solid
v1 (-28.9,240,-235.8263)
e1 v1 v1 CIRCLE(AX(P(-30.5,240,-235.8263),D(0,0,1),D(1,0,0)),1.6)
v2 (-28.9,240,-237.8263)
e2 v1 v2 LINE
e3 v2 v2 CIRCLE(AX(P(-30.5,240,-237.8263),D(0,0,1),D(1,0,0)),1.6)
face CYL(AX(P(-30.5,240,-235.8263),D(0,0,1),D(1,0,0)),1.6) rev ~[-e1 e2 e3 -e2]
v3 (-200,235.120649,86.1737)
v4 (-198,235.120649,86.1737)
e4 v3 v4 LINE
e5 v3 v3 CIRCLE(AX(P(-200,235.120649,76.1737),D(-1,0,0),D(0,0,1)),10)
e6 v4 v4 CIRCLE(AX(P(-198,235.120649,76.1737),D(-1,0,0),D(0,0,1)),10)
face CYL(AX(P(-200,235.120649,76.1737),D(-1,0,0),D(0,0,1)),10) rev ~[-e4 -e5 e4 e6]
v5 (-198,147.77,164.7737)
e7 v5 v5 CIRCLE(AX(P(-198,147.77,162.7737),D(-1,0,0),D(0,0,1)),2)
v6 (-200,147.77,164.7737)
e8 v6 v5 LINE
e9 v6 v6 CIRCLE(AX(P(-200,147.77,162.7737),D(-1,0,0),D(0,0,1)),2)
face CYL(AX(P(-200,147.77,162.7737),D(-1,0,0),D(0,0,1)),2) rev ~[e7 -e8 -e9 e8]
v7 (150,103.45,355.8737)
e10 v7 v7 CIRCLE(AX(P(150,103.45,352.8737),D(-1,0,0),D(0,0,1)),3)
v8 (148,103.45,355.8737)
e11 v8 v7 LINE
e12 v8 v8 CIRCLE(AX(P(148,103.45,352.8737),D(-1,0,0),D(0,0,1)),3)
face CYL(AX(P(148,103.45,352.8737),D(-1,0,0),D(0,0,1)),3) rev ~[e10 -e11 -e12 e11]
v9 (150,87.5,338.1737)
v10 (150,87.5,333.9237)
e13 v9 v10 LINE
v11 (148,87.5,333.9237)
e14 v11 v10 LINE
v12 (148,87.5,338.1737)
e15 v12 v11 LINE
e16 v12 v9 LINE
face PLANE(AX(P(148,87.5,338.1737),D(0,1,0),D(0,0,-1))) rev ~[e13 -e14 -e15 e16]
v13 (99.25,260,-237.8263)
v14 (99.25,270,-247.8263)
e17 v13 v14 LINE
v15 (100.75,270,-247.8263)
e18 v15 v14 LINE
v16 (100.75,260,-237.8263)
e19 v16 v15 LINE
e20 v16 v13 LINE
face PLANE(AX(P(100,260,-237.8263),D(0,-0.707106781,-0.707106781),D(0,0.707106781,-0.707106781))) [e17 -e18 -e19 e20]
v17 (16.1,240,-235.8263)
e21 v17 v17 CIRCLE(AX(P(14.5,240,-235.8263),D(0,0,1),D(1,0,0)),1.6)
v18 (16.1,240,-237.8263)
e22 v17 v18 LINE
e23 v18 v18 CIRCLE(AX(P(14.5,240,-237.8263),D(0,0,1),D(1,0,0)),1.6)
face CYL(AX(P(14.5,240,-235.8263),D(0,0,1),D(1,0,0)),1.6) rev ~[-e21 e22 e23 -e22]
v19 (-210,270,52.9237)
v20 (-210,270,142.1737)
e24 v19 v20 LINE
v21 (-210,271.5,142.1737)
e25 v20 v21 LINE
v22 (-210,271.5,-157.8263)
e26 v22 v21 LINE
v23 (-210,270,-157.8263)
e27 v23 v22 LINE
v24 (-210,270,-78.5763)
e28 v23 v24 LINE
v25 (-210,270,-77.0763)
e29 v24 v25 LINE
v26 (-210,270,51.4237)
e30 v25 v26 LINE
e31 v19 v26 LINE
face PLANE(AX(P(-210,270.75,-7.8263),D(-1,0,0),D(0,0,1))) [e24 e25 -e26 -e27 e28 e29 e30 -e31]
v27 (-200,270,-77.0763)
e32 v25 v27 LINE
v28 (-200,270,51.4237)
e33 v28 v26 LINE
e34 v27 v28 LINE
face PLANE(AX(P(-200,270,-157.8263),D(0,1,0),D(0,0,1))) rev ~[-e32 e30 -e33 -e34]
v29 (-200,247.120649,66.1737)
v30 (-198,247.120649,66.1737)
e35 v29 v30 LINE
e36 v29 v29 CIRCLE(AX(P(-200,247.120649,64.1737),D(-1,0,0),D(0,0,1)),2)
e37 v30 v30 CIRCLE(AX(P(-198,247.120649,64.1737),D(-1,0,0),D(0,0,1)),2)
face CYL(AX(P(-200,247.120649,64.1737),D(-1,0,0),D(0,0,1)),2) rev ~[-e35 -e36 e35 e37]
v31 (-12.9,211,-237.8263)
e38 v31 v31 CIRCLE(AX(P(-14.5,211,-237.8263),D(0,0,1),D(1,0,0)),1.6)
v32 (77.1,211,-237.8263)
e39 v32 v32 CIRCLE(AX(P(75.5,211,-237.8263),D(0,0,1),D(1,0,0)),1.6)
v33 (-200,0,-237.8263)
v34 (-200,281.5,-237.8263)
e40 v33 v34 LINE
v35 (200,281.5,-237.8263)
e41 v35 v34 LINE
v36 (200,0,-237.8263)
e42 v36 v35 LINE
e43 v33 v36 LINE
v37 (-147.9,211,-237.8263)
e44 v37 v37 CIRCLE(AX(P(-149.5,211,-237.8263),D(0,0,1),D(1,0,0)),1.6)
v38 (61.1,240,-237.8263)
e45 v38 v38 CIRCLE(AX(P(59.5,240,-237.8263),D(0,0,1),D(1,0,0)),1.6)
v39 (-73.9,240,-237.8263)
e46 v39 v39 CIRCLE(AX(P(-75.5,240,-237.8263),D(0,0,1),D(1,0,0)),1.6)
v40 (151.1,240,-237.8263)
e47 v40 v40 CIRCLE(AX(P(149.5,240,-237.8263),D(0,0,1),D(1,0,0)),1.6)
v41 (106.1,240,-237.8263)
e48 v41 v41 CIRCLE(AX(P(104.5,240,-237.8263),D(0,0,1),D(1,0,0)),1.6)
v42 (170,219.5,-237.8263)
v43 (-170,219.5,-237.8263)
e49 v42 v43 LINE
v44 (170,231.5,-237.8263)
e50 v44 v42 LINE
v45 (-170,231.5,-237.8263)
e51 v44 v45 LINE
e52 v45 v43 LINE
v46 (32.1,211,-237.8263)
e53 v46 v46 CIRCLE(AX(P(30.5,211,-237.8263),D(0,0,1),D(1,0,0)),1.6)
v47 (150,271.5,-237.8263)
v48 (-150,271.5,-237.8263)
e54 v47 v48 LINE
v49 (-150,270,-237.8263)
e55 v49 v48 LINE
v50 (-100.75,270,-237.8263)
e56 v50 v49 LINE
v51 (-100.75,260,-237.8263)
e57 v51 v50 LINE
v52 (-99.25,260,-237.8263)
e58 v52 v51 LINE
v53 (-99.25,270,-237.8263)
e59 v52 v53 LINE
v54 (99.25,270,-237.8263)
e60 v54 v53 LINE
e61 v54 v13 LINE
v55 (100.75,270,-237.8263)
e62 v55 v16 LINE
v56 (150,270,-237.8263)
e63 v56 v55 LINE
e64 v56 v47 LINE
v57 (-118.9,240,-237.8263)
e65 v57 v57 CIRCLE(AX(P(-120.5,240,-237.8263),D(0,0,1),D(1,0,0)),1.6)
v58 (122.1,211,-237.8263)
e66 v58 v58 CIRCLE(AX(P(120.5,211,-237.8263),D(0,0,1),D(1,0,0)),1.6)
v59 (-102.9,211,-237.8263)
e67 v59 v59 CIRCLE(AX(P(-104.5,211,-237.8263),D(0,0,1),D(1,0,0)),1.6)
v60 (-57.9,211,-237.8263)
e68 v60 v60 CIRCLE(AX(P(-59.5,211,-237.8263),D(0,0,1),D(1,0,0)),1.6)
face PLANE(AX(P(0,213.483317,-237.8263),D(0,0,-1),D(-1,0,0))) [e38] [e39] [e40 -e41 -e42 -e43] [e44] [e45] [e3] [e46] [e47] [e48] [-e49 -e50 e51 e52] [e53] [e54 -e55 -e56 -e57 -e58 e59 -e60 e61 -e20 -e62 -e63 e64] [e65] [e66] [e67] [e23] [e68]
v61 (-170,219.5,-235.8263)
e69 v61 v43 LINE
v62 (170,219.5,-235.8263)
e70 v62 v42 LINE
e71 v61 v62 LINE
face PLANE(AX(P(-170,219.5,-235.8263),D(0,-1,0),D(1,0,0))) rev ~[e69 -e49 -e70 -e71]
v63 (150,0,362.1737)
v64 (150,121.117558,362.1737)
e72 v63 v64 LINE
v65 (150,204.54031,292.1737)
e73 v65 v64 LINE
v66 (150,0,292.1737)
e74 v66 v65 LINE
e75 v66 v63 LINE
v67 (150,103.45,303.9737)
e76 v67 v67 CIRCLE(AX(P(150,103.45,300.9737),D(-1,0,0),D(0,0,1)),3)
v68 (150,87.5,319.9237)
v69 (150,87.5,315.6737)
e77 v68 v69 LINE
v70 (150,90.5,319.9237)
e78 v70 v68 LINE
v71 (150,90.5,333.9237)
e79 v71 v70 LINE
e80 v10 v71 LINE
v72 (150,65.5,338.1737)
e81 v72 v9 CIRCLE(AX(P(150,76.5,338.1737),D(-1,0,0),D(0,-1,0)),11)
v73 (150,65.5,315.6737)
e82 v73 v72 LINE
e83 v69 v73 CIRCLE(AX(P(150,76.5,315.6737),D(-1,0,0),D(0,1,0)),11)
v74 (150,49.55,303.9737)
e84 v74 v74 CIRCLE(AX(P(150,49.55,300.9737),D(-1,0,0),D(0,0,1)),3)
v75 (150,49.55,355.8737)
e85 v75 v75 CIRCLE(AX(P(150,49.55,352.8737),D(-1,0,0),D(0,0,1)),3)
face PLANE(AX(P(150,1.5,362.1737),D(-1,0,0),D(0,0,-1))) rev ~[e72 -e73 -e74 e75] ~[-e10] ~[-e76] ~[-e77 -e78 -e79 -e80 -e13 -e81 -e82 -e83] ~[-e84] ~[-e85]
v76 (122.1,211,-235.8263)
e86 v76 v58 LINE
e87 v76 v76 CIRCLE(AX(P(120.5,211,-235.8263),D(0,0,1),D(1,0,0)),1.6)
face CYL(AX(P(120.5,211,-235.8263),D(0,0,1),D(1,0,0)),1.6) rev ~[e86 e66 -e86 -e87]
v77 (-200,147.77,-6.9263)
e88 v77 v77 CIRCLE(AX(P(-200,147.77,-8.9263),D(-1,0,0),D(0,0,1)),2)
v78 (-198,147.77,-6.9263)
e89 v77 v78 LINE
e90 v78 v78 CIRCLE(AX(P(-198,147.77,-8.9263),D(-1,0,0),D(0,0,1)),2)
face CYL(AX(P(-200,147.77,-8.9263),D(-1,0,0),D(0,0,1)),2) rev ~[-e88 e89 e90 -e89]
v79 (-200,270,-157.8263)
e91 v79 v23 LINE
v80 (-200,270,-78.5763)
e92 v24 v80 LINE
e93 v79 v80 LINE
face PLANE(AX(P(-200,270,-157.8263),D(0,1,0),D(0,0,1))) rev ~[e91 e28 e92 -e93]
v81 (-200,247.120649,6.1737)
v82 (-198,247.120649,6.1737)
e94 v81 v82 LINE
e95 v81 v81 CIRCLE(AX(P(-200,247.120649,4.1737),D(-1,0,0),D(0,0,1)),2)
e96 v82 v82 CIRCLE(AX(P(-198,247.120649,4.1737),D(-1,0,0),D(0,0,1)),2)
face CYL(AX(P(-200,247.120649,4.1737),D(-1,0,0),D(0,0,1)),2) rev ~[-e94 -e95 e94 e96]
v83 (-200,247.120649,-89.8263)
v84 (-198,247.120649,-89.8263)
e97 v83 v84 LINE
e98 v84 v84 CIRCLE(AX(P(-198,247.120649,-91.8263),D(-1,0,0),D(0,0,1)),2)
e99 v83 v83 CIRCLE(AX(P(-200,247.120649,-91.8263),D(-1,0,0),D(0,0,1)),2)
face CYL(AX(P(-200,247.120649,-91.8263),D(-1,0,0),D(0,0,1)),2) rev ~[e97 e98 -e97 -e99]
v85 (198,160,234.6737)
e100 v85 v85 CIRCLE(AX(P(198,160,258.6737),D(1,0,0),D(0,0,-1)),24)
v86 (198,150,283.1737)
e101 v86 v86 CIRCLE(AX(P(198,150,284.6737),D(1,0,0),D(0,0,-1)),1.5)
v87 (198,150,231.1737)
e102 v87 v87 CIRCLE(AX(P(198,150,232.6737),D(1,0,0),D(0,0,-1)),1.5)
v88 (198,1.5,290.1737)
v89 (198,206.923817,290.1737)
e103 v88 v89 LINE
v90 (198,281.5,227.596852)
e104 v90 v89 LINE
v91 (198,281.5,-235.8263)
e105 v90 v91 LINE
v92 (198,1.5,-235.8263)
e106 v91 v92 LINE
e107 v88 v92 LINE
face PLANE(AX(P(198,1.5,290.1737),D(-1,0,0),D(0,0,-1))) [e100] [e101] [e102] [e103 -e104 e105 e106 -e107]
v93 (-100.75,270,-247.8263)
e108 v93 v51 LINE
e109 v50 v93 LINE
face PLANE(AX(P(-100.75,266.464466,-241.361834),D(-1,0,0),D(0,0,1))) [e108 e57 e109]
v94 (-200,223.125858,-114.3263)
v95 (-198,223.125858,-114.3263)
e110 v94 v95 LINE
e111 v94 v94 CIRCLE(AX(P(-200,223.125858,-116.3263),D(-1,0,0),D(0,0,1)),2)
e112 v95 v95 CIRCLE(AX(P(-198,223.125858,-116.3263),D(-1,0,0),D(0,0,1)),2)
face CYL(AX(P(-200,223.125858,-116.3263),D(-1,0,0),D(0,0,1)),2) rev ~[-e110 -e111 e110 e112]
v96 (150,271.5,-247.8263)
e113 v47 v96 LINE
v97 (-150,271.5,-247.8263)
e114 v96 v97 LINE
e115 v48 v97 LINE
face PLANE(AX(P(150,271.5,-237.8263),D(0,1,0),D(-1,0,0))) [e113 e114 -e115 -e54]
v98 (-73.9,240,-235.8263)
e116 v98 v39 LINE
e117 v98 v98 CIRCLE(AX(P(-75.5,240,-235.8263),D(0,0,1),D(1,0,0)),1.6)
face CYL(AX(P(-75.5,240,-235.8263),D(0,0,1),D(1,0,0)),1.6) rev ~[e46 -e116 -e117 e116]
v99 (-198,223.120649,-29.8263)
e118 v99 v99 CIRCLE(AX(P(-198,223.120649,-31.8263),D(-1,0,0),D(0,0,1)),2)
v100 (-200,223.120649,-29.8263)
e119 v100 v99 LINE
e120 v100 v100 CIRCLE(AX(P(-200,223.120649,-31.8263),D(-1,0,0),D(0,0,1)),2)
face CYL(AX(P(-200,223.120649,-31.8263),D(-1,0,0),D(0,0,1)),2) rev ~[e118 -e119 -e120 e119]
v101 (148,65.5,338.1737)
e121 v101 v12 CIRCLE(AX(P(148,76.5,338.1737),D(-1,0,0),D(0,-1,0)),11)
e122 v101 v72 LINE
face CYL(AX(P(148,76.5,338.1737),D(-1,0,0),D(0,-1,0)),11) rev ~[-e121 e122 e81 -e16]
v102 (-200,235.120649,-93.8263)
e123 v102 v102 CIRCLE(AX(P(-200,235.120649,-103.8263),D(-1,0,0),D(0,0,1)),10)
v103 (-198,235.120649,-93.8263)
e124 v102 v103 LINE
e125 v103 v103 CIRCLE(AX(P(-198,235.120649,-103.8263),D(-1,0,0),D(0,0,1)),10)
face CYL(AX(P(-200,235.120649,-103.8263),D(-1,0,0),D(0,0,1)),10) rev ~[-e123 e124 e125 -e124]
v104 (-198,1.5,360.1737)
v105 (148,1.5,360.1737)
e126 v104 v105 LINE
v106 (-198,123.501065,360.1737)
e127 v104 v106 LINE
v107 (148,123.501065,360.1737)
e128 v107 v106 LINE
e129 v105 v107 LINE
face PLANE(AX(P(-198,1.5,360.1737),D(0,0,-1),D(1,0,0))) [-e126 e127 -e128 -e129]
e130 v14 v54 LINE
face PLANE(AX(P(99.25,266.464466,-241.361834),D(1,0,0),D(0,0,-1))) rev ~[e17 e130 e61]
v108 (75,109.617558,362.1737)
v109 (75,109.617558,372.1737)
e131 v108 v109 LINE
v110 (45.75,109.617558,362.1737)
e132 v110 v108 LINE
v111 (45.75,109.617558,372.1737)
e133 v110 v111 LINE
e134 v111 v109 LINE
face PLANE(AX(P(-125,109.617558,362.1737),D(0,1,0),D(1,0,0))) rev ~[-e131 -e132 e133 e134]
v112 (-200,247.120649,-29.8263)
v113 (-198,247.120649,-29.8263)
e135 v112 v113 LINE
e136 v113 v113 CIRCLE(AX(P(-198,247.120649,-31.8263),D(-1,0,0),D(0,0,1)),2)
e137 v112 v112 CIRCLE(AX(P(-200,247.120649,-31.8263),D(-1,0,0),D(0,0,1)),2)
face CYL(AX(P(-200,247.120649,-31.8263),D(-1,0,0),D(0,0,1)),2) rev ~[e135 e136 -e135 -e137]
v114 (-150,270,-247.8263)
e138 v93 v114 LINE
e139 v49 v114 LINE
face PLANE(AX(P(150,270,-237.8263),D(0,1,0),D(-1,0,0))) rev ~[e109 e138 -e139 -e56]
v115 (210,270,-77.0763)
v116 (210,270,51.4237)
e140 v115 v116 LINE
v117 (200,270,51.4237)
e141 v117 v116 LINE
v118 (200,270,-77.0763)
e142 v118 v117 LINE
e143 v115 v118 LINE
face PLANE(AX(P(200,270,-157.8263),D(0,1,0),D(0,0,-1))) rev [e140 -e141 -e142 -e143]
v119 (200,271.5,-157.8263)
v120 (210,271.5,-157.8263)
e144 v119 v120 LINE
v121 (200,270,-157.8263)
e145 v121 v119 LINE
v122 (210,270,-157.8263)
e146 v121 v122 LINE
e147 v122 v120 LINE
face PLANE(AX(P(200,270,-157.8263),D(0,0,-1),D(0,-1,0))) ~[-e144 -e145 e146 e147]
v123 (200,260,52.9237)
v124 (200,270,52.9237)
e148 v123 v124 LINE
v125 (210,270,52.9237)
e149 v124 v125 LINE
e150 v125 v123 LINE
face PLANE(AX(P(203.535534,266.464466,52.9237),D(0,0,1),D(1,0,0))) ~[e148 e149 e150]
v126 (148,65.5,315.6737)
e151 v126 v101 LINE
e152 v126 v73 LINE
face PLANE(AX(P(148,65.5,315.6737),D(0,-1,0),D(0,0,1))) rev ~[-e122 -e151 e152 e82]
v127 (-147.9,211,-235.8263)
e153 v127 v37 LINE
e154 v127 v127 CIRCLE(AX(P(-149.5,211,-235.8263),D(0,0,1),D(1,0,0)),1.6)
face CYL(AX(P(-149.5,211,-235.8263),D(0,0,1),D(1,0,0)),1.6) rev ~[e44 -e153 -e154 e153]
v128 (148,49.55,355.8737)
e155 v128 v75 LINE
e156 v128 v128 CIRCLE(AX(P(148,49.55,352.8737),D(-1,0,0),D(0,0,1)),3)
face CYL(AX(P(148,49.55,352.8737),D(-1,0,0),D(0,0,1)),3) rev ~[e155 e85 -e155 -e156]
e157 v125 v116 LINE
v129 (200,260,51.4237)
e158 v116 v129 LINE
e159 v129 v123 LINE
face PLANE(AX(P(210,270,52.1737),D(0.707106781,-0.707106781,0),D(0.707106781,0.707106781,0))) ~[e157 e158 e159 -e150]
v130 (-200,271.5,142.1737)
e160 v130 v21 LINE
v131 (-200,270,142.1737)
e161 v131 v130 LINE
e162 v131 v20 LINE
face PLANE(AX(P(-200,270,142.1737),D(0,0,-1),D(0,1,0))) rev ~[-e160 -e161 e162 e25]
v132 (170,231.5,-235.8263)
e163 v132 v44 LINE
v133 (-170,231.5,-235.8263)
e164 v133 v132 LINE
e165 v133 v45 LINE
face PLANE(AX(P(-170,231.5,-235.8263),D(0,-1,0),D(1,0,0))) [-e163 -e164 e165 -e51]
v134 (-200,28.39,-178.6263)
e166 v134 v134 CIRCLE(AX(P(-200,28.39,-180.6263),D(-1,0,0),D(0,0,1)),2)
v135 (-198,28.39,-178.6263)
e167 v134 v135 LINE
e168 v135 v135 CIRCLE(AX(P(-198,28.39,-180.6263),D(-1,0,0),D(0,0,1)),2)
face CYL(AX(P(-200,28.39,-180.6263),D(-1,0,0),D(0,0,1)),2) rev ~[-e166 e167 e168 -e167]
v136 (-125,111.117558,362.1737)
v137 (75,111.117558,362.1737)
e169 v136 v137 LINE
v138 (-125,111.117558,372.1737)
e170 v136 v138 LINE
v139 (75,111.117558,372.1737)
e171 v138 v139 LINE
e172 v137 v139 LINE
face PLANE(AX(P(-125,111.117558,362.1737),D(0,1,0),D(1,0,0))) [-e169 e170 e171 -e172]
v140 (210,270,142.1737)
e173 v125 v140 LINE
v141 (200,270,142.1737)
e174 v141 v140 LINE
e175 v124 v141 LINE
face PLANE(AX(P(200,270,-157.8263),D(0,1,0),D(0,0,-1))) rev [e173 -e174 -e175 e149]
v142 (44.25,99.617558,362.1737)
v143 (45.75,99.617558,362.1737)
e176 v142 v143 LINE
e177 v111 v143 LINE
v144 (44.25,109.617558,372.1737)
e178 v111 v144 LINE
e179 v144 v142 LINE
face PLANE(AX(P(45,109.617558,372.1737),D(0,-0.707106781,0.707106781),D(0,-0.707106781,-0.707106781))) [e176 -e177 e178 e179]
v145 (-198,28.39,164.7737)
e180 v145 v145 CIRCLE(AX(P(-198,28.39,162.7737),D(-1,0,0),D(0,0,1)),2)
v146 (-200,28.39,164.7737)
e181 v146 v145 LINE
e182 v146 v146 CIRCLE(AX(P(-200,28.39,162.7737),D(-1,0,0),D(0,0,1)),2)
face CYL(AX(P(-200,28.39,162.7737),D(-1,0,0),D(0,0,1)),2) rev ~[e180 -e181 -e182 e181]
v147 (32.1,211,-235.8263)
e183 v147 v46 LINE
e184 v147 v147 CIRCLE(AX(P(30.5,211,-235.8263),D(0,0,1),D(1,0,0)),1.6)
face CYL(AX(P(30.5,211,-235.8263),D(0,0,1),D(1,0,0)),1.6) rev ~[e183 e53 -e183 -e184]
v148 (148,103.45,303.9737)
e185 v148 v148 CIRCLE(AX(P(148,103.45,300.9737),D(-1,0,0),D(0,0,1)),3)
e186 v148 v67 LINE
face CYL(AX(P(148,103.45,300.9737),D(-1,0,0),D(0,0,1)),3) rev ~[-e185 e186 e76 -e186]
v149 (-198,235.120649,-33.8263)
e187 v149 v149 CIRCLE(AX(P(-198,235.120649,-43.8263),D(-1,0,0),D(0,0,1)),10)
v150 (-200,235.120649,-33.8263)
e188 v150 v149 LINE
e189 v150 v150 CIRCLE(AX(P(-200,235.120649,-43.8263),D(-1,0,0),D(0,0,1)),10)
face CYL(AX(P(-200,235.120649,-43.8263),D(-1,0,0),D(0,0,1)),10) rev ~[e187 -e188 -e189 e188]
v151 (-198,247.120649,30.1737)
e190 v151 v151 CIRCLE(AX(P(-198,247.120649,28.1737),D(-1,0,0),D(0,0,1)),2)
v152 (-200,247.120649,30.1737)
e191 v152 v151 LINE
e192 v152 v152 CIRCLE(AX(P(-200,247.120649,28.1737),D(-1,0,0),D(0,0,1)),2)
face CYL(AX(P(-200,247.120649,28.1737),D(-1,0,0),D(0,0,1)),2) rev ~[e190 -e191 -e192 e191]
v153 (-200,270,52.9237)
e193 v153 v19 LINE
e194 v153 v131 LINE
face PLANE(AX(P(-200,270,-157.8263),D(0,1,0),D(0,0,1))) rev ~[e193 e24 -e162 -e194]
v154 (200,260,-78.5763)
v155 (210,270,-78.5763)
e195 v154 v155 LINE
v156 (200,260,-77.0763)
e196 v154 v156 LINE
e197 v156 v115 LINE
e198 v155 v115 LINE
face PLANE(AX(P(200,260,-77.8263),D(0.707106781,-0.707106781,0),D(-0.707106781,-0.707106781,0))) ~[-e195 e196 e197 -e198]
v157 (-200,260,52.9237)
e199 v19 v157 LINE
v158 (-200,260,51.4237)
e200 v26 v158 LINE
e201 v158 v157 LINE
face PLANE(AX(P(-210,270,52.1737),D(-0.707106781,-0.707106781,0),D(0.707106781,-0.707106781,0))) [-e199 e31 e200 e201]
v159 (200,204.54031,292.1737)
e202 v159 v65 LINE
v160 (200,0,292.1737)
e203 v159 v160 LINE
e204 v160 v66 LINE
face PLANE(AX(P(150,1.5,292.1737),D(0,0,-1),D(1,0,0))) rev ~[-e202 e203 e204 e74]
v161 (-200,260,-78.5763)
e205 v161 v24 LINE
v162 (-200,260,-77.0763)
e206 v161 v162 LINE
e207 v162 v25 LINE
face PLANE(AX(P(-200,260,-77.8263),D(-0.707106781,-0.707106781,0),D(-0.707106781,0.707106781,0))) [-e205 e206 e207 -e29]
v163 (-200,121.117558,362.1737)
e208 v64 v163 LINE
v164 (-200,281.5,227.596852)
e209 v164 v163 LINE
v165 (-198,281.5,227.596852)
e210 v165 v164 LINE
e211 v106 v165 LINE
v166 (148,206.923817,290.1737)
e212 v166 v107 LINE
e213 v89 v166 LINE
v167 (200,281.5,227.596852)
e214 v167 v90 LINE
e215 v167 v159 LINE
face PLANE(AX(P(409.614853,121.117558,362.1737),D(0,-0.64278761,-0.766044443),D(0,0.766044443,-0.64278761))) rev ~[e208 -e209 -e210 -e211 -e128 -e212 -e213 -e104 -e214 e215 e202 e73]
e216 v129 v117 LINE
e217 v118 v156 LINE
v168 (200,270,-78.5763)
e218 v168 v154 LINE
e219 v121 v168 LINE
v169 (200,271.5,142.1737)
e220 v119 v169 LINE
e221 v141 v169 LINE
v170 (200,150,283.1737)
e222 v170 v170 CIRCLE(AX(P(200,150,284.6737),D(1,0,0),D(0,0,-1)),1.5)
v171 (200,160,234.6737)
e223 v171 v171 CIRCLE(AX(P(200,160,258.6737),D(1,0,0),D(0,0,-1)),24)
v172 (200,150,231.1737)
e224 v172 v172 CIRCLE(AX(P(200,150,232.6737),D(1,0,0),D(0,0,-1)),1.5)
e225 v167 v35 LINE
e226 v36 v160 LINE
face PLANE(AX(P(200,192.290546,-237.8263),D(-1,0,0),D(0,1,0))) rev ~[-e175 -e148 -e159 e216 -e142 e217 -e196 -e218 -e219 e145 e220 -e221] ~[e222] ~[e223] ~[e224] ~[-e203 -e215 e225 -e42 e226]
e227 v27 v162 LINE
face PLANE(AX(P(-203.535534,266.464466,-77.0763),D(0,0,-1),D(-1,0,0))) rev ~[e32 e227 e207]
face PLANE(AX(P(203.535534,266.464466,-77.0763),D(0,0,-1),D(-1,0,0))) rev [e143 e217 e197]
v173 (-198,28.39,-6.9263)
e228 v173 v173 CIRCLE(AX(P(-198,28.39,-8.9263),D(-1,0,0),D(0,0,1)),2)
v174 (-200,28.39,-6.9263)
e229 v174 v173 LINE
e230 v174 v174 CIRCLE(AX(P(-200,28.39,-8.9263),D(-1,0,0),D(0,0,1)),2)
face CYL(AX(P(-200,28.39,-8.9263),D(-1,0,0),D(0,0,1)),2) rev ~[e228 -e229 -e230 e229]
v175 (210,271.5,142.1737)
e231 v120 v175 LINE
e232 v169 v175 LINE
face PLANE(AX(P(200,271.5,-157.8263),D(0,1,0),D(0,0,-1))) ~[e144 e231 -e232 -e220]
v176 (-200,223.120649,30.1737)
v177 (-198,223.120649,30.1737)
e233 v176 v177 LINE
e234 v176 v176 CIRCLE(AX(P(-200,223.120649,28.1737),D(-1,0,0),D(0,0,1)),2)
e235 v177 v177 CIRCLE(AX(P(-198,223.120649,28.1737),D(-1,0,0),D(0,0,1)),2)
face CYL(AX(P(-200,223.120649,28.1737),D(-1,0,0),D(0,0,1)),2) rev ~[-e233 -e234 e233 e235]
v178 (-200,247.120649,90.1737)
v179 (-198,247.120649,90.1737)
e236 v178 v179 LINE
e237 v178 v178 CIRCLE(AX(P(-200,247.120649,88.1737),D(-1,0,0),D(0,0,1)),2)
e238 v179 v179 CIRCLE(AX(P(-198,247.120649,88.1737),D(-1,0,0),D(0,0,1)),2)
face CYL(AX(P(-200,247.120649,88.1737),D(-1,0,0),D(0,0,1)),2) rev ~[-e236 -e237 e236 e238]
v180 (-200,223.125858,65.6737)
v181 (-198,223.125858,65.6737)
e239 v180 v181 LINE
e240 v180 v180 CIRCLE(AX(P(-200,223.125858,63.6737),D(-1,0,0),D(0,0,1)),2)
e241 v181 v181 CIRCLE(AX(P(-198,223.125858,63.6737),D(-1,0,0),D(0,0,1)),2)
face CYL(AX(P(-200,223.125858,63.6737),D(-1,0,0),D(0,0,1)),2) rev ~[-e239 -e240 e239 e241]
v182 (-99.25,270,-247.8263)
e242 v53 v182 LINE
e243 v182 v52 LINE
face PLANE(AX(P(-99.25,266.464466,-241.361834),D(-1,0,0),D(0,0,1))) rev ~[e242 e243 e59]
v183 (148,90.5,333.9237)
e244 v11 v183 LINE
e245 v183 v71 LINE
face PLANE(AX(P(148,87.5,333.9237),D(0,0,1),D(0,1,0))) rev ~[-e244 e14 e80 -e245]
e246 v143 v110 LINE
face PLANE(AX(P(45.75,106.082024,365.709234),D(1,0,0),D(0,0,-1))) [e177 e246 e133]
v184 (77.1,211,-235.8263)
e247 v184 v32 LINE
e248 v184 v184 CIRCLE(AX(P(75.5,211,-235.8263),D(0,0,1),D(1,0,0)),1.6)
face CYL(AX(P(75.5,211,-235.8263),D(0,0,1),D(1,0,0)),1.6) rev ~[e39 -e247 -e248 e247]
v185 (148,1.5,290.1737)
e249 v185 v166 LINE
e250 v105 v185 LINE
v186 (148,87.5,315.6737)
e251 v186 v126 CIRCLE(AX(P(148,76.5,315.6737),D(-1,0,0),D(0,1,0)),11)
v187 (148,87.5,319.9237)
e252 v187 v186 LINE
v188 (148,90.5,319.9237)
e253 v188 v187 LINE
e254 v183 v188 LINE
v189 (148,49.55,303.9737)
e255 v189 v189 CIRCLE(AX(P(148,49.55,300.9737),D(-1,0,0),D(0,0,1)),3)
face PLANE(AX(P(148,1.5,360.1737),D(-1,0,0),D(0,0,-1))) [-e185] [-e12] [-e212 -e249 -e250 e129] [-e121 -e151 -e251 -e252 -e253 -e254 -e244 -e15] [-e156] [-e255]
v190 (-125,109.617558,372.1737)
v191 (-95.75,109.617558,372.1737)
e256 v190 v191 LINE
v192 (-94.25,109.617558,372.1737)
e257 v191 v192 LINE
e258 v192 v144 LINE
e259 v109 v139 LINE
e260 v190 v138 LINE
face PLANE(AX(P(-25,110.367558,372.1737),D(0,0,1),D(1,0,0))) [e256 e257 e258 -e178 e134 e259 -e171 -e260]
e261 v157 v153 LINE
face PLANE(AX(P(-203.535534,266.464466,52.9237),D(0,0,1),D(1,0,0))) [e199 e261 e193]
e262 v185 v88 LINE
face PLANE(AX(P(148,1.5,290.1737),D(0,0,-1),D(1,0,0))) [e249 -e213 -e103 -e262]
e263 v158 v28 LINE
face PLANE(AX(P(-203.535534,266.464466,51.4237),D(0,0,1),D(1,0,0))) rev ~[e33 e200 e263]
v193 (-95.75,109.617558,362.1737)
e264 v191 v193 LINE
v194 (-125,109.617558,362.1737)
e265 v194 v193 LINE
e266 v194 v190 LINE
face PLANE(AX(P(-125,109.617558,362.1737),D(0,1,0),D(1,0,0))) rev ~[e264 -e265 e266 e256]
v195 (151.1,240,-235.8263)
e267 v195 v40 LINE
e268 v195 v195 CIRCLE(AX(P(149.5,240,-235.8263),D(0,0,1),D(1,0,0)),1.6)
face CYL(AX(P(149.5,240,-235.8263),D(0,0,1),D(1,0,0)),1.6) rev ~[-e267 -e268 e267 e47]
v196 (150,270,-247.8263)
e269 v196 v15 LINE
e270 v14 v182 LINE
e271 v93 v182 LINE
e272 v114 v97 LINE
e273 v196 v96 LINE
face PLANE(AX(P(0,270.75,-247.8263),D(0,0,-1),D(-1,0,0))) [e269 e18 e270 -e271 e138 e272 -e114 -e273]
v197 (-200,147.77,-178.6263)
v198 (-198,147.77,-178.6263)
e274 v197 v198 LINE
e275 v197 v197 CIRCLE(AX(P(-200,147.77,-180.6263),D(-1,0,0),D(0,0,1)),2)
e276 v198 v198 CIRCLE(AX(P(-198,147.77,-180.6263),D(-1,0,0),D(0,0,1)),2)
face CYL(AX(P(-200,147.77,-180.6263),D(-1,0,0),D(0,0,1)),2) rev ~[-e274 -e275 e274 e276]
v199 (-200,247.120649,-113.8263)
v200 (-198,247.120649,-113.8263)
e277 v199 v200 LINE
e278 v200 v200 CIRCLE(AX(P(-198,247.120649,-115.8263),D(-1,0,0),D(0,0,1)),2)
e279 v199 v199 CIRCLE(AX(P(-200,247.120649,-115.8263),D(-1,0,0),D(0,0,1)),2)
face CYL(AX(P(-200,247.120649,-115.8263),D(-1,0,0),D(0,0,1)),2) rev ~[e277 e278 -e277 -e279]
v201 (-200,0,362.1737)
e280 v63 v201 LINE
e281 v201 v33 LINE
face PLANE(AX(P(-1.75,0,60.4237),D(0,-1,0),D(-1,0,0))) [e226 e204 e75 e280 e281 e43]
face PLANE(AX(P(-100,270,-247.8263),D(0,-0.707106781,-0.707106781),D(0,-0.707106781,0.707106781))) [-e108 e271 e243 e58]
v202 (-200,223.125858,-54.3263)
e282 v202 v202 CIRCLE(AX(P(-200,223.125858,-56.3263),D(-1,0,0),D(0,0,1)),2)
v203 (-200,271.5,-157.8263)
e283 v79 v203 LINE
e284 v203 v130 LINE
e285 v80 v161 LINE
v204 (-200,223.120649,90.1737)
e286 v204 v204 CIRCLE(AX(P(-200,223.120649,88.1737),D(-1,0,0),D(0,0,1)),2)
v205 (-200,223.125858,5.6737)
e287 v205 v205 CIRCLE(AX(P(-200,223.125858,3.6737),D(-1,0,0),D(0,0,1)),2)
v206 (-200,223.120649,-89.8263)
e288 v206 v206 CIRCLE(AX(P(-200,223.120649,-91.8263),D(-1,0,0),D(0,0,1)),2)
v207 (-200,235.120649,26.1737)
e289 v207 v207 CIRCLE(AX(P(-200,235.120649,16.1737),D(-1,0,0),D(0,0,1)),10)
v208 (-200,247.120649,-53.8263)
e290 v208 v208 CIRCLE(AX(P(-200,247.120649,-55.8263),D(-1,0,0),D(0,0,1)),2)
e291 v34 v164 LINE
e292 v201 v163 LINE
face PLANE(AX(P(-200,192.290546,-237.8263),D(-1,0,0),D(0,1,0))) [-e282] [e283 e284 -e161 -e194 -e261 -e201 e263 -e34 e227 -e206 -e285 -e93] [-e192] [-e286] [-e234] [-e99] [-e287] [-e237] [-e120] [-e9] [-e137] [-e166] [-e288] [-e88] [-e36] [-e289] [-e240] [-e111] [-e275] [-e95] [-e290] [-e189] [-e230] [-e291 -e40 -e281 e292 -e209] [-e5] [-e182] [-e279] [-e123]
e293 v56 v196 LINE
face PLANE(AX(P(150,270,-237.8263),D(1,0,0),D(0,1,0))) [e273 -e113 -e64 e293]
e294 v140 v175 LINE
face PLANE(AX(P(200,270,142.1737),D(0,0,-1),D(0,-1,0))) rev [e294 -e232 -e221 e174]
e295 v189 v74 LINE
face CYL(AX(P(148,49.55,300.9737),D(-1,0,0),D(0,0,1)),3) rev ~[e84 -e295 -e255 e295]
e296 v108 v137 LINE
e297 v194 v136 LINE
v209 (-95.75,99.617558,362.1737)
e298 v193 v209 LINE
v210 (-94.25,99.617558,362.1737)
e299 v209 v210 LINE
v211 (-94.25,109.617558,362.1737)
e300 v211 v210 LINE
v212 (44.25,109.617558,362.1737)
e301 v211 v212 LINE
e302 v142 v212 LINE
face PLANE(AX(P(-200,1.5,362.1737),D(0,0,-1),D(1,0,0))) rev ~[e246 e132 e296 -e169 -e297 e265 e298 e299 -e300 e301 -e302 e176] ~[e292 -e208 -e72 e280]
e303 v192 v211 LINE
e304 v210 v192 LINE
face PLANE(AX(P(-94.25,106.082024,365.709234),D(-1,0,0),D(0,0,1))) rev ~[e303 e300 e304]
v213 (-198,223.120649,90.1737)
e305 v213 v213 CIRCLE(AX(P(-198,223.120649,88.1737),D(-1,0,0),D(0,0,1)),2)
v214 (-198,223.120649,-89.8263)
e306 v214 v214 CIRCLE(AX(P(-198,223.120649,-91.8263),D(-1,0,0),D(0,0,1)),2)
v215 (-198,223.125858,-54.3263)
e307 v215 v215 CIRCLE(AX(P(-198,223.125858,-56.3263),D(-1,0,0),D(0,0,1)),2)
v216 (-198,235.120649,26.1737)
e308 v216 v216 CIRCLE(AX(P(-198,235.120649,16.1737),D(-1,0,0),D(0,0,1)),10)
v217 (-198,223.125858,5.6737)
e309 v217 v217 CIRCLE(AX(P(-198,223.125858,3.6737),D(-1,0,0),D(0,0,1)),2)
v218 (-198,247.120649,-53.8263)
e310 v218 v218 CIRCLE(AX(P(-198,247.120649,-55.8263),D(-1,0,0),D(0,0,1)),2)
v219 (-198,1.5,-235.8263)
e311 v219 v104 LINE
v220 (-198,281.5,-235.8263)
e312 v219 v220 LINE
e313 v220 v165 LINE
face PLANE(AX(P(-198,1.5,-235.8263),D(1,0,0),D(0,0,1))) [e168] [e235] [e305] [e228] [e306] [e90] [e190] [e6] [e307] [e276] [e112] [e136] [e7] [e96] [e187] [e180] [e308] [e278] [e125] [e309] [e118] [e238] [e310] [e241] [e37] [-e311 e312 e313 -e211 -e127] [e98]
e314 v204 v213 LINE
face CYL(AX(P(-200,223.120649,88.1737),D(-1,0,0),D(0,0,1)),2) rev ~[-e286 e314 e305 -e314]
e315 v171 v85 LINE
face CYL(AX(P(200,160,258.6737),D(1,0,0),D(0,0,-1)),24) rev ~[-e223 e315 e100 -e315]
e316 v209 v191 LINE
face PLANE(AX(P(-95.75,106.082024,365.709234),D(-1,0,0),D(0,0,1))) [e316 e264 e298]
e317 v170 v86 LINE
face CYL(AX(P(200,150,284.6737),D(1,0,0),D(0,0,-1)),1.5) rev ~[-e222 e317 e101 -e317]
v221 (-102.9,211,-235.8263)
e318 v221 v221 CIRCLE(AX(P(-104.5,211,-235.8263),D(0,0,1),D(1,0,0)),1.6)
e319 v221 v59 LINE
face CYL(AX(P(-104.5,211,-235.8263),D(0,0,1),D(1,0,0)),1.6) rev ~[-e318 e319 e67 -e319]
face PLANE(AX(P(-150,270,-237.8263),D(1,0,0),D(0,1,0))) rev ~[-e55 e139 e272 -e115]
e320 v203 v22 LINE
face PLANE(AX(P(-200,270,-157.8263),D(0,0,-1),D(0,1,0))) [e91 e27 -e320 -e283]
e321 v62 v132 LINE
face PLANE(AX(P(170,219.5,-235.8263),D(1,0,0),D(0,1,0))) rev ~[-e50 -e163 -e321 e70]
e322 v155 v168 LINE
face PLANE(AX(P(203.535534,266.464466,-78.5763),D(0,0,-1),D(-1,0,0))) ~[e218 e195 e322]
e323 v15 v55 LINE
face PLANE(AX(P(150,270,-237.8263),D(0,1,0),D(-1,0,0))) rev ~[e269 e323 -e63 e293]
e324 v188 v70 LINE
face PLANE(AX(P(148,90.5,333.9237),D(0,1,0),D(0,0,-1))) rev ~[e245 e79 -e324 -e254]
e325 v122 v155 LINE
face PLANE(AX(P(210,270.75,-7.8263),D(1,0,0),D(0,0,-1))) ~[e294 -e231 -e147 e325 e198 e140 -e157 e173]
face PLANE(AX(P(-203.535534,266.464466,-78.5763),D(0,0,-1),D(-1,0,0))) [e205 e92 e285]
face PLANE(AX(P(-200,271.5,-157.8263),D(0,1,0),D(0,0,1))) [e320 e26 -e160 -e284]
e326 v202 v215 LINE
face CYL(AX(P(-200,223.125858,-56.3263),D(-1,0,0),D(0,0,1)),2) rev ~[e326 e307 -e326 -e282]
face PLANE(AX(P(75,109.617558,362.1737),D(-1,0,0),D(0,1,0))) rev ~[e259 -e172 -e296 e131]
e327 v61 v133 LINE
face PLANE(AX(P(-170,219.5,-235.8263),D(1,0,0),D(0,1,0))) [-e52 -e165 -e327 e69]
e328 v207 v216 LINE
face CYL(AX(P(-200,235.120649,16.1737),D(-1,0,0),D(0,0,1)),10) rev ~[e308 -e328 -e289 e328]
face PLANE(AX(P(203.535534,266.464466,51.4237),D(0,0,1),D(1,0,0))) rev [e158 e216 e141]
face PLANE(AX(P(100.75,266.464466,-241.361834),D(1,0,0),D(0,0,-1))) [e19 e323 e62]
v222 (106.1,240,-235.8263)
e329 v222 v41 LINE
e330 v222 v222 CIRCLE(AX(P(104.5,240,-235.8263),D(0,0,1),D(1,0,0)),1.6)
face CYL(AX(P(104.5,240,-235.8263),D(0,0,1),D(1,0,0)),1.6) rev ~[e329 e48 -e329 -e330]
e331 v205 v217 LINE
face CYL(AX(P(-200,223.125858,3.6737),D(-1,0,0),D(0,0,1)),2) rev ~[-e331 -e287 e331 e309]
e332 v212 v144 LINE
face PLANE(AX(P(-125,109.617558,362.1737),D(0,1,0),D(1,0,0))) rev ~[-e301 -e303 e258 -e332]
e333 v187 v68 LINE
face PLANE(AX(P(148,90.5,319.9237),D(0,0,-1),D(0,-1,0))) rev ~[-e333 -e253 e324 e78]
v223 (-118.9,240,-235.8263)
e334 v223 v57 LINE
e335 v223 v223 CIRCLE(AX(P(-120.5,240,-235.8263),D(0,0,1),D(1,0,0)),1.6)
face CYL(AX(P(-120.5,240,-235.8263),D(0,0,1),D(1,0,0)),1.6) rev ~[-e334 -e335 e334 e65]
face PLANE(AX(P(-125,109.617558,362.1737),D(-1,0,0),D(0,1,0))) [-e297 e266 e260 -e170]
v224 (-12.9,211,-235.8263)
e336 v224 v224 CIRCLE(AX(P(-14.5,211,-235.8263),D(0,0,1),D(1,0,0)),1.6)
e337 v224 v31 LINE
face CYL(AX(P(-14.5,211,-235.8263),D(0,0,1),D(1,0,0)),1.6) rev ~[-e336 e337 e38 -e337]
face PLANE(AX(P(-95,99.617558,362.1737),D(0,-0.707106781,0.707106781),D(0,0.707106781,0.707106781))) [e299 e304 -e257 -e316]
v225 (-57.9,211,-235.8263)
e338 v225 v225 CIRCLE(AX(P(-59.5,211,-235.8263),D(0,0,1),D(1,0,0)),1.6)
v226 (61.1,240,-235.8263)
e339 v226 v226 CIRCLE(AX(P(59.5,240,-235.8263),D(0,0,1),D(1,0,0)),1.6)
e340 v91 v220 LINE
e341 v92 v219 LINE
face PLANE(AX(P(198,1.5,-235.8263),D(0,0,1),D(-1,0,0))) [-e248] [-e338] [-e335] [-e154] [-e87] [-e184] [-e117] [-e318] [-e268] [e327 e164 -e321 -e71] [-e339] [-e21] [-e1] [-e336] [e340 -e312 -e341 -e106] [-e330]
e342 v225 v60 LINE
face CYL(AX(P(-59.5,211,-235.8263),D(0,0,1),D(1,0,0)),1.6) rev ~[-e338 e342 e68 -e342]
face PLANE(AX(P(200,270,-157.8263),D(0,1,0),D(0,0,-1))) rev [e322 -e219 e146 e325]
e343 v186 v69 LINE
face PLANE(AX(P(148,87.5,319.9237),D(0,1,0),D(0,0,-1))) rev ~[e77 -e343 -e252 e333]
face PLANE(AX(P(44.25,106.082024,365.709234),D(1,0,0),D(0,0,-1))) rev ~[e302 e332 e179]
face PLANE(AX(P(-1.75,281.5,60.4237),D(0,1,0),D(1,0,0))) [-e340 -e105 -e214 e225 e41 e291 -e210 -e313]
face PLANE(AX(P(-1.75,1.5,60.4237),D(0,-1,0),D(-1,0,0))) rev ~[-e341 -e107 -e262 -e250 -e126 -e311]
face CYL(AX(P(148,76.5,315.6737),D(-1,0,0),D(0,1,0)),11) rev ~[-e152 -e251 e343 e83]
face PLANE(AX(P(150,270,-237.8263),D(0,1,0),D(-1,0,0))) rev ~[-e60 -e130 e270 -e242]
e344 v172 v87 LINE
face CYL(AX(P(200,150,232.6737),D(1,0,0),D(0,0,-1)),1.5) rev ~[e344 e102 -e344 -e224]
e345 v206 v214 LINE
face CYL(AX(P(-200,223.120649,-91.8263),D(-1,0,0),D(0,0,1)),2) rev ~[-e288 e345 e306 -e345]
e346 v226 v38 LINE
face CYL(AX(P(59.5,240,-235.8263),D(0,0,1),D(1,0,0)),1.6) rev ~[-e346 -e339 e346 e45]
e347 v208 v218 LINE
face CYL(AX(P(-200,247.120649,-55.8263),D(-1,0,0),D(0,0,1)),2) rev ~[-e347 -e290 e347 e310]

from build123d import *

# Parameters (mm, degrees)
BOSS_EXTRUDE1_DEPTH     = 1.5
BOSS_EXTRUDE2_DEPTH     = 280
SKETCH4_W               = 400
SKETCH4_H               = 42.385541564
BOSS_EXTRUDE3_DEPTH     = 2
CUT_EXTRUDE1_DEPTH      = 609.61485268
CUT_EXTRUDE1_DEPTH_BACK = 609.61485268
SKETCH10_R              = 3
CUT_EXTRUDE2_DEPTH      = 2
SKETCH5_R               = 2
SKETCH5_R_2             = 10
CUT_EXTRUDE7_DEPTH      = 2
SKETCH21_W              = 300
SKETCH21_H              = 1.5
BOSS_EXTRUDE9_DEPTH     = 10
SKETCH22_W              = 300
SKETCH22_H              = 1.5
BOSS_EXTRUDE10_DEPTH    = 10
BOSS_EXTRUDE11_DEPTH    = 0.75
BOSS_EXTRUDE12_DEPTH    = 0.75
BOSS_EXTRUDE13_DEPTH    = 0.75
BOSS_EXTRUDE14_DEPTH    = 0.75
SKETCH27_W              = 200
SKETCH27_H              = 1.5
BOSS_EXTRUDE15_DEPTH    = 10
BOSS_EXTRUDE16_DEPTH    = 0.75
BOSS_EXTRUDE17_DEPTH    = 0.75
SKETCH30_R              = 24
SKETCH30_R_2            = 1.5
CUT_EXTRUDE8_DEPTH      = 2
SKETCH33_R              = 2
CUT_EXTRUDE9_DEPTH      = 2
SKETCH42_W              = 340
SKETCH42_H              = 12
SKETCH42_R              = 1.6
CUT_EXTRUDE13_DEPTH     = 40


with BuildPart() as part:
    # Sketch1 → Boss-Extrude1 (new body)
    with BuildSketch(Plane(origin=(0, 0, 0), x_dir=(1, 0, 0), z_dir=(0, 1, 0))):
        Polygon((-200, 237.826300096), (200, 237.826300096), (200, -292.173699904), (150, -292.173699904), (150, -362.173699904), (-200, -362.173699904), align=None)
    extrude(amount=BOSS_EXTRUDE1_DEPTH)

    # Sketch2 → Boss-Extrude2 (add)
    with BuildSketch(Plane(origin=(0, 1.5, 0), x_dir=(1, 0, 0), z_dir=(0, 1, 0))):
        Polygon((-200, 237.826300096), (-200, -362.173699904), (150, -362.173699904), (150, -292.173699904), (200, -292.173699904), (200, 237.826300096), align=None)
        Polygon((-198, 235.826300096), (-198, -360.173699904), (148, -360.173699904), (148, -290.173699904), (198, -290.173699904), (198, 235.826300096), align=None, mode=Mode.SUBTRACT)
    extrude(amount=BOSS_EXTRUDE2_DEPTH)

    # Sketch4 → Boss-Extrude3 (add)
    with BuildSketch(Plane(origin=(0, 0, -237.826300096), x_dir=(-1, 0, 0), z_dir=(0, 0, -1))):
        with Locations((0, 213.483316708)):
            Rectangle(SKETCH4_W, SKETCH4_H)
    extrude(amount=-BOSS_EXTRUDE3_DEPTH)

    # Sketch3 → Cut-Extrude1 (cut, two sides: drawn at the far end of the back side and taken through both)
    with BuildSketch(Plane.ZY.offset(200).offset(-CUT_EXTRUDE1_DEPTH_BACK)):
        Polygon((362.173699904, 121.117558148), (227.596852099, 281.5), (362.173699904, 281.5), align=None)
    extrude(amount=CUT_EXTRUDE1_DEPTH + CUT_EXTRUDE1_DEPTH_BACK, mode=Mode.SUBTRACT)

    # Sketch10 → Cut-Extrude2 (cut)
    with BuildSketch(Plane.ZY.offset(-148)):
        with BuildLine():
            Line((333.923699904, 90.5), (319.923699904, 90.5))
            Line((319.923699904, 90.5), (319.923699904, 87.5))
            Line((319.923699904, 87.5), (315.673699904, 87.5))
            ThreePointArc((315.673699904, 87.5), (304.673699904, 76.5), (315.673699904, 65.5))
            Line((315.673699904, 65.5), (338.173699904, 65.5))
            ThreePointArc((338.173699904, 65.5), (349.173699904, 76.5), (338.173699904, 87.5))
            Line((338.173699904, 87.5), (333.923699904, 87.5))
            Line((333.923699904, 87.5), (333.923699904, 90.5))
        make_face()
        with Locations((300.973699904, 103.45)):
            Circle(SKETCH10_R)
        with Locations((352.873699904, 103.45)):
            Circle(SKETCH10_R)
        with Locations((300.973699904, 49.55)):
            Circle(SKETCH10_R)
        with Locations((352.873699904, 49.55)):
            Circle(SKETCH10_R)
    extrude(amount=-CUT_EXTRUDE2_DEPTH, mode=Mode.SUBTRACT)

    # Sketch5 → Cut-Extrude7 (cut)
    with BuildSketch(Plane.ZY.offset(200)):
        with Locations((-115.826300096, 247.120648807)):
            Circle(SKETCH5_R)
        with Locations((-116.326300096, 223.125857706)):
            Circle(SKETCH5_R)
        with Locations((-91.826300096, 223.120648807)):
            Circle(SKETCH5_R)
        with Locations((-91.826300096, 247.120648807)):
            Circle(SKETCH5_R)
        with Locations((-103.826300096, 235.120648807)):
            Circle(SKETCH5_R_2)
        with Locations((-55.826300096, 247.120648807)):
            Circle(SKETCH5_R)
        with Locations((-56.326300096, 223.125857706)):
            Circle(SKETCH5_R)
        with Locations((-31.826300096, 223.120648807)):
            Circle(SKETCH5_R)
        with Locations((-31.826300096, 247.120648807)):
            Circle(SKETCH5_R)
        with Locations((-43.826300096, 235.120648807)):
            Circle(SKETCH5_R_2)
        with Locations((4.173699904, 247.120648807)):
            Circle(SKETCH5_R)
        with Locations((3.673699904, 223.125857706)):
            Circle(SKETCH5_R)
        with Locations((28.173699904, 223.120648807)):
            Circle(SKETCH5_R)
        with Locations((28.173699904, 247.120648807)):
            Circle(SKETCH5_R)
        with Locations((16.173699904, 235.120648807)):
            Circle(SKETCH5_R_2)
        with Locations((64.173699904, 247.120648807)):
            Circle(SKETCH5_R)
        with Locations((63.673699904, 223.125857706)):
            Circle(SKETCH5_R)
        with Locations((88.173699904, 223.120648807)):
            Circle(SKETCH5_R)
        with Locations((88.173699904, 247.120648807)):
            Circle(SKETCH5_R)
        with Locations((76.173699904, 235.120648807)):
            Circle(SKETCH5_R_2)
    extrude(amount=-CUT_EXTRUDE7_DEPTH, mode=Mode.SUBTRACT)

    # Sketch21 → Boss-Extrude9 (add)
    with BuildSketch(Plane(origin=(0, 0, -237.826300096), x_dir=(-1, 0, 0), z_dir=(0, 0, -1))):
        with Locations((0, 270.75)):
            Rectangle(SKETCH21_W, SKETCH21_H)
    extrude(amount=BOSS_EXTRUDE9_DEPTH)

    # Sketch22 → Boss-Extrude10 (add)
    with BuildSketch(Plane.ZY.offset(200)):
        with Locations((-7.826300096, 270.75)):
            Rectangle(SKETCH22_W, SKETCH22_H)
    boss_extrude10 = extrude(amount=BOSS_EXTRUDE10_DEPTH)

    # Sketch23 → Boss-Extrude11 (add, symmetric)
    with BuildSketch(Plane(origin=(0, 0, -77.826300096), x_dir=(-1, 0, 0), z_dir=(0, 0, -1))):
        Polygon((210, 270), (200, 270), (200, 260), align=None)
    boss_extrude11 = extrude(amount=BOSS_EXTRUDE11_DEPTH, both=True)

    # Sketch24 → Boss-Extrude12 (add, symmetric)
    with BuildSketch(Plane.XY.offset(52.173699904)):
        Polygon((-210, 270), (-200, 260), (-200, 270), align=None)
    boss_extrude12 = extrude(amount=BOSS_EXTRUDE12_DEPTH, both=True)

    # Sketch25 → Boss-Extrude13 (add, symmetric)
    with BuildSketch(Plane(origin=(100, 0, 0), x_dir=(0, 0, -1), z_dir=(1, 0, 0))):
        Polygon((247.826300096, 270), (237.826300096, 270), (237.826300096, 260), align=None)
    extrude(amount=BOSS_EXTRUDE13_DEPTH, both=True)

    # Sketch26 → Boss-Extrude14 (add, symmetric)
    with BuildSketch(Plane.ZY.offset(100)):
        Polygon((-247.826300096, 270), (-237.826300096, 260), (-237.826300096, 270), align=None)
    extrude(amount=BOSS_EXTRUDE14_DEPTH, both=True)

    # Mirror1: Boss-Extrude10, Boss-Extrude11, Boss-Extrude12 across plane
    add(boss_extrude10.mirror(Plane(origin=(0, 0, 0), x_dir=(0, 0, 1), z_dir=(1, 0, 0))))
    add(boss_extrude11.mirror(Plane(origin=(0, 0, 0), x_dir=(0, 0, 1), z_dir=(1, 0, 0))))
    add(boss_extrude12.mirror(Plane(origin=(0, 0, 0), x_dir=(0, 0, 1), z_dir=(1, 0, 0))))

    # Sketch27 → Boss-Extrude15 (add)
    with BuildSketch(Plane.XY.offset(362.173699904)):
        with Locations((-25, 110.367558148)):
            Rectangle(SKETCH27_W, SKETCH27_H)
    extrude(amount=BOSS_EXTRUDE15_DEPTH)

    # Sketch28 → Boss-Extrude16 (add, symmetric)
    with BuildSketch(Plane.ZY.offset(95)):
        Polygon((372.173699904, 109.617558148), (362.173699904, 109.617558148), (362.173699904, 99.617558148), align=None)
    extrude(amount=BOSS_EXTRUDE16_DEPTH, both=True)

    # Sketch29 → Boss-Extrude17 (add, symmetric)
    with BuildSketch(Plane(origin=(45, 0, 0), x_dir=(0, 0, -1), z_dir=(1, 0, 0))):
        Polygon((-372.173699904, 109.617558148), (-362.173699904, 99.617558148), (-362.173699904, 109.617558148), align=None)
    extrude(amount=BOSS_EXTRUDE17_DEPTH, both=True)

    # Sketch30 → Cut-Extrude8 (cut)
    with BuildSketch(Plane(origin=(200, 0, 0), x_dir=(0, 0, -1), z_dir=(1, 0, 0))):
        with Locations((-258.673699904, 160)):
            Circle(SKETCH30_R)
        with Locations((-284.673699904, 150)):
            Circle(SKETCH30_R_2)
        with Locations((-232.673699904, 150)):
            Circle(SKETCH30_R_2)
    extrude(amount=-CUT_EXTRUDE8_DEPTH, mode=Mode.SUBTRACT)

    # Sketch33 → Cut-Extrude9 (cut)
    with BuildSketch(Plane.ZY.offset(200)):
        with Locations((-180.626300096, 147.77)):
            Circle(SKETCH33_R)
        with Locations((-180.626300096, 28.39)):
            Circle(SKETCH33_R)
        with Locations((-8.926300096, 147.77)):
            Circle(SKETCH33_R)
        with Locations((-8.926300096, 28.39)):
            Circle(SKETCH33_R)
        with Locations((162.773699904, 147.77)):
            Circle(SKETCH33_R)
        with Locations((162.773699904, 28.39)):
            Circle(SKETCH33_R)
    extrude(amount=-CUT_EXTRUDE9_DEPTH, mode=Mode.SUBTRACT)

    # Sketch42 → Cut-Extrude13 (cut)
    with BuildSketch(Plane.XY.offset(-235.826300096)):
        with Locations((0, 225.5)):
            Rectangle(SKETCH42_W, SKETCH42_H)
        with Locations((-120.5, 240)):
            Circle(SKETCH42_R)
        with Locations((-149.5, 211)):
            Circle(SKETCH42_R)
        with Locations((-75.5, 240)):
            Circle(SKETCH42_R)
        with Locations((-104.5, 211)):
            Circle(SKETCH42_R)
        with Locations((-30.5, 240)):
            Circle(SKETCH42_R)
        with Locations((-59.5, 211)):
            Circle(SKETCH42_R)
        with Locations((14.5, 240)):
            Circle(SKETCH42_R)
        with Locations((-14.5, 211)):
            Circle(SKETCH42_R)
        with Locations((59.5, 240)):
            Circle(SKETCH42_R)
        with Locations((30.5, 211)):
            Circle(SKETCH42_R)
        with Locations((104.5, 240)):
            Circle(SKETCH42_R)
        with Locations((75.5, 211)):
            Circle(SKETCH42_R)
        with Locations((149.5, 240)):
            Circle(SKETCH42_R)
        with Locations((120.5, 211)):
            Circle(SKETCH42_R)
    extrude(amount=-CUT_EXTRUDE13_DEPTH, mode=Mode.SUBTRACT)


solid = part.part
